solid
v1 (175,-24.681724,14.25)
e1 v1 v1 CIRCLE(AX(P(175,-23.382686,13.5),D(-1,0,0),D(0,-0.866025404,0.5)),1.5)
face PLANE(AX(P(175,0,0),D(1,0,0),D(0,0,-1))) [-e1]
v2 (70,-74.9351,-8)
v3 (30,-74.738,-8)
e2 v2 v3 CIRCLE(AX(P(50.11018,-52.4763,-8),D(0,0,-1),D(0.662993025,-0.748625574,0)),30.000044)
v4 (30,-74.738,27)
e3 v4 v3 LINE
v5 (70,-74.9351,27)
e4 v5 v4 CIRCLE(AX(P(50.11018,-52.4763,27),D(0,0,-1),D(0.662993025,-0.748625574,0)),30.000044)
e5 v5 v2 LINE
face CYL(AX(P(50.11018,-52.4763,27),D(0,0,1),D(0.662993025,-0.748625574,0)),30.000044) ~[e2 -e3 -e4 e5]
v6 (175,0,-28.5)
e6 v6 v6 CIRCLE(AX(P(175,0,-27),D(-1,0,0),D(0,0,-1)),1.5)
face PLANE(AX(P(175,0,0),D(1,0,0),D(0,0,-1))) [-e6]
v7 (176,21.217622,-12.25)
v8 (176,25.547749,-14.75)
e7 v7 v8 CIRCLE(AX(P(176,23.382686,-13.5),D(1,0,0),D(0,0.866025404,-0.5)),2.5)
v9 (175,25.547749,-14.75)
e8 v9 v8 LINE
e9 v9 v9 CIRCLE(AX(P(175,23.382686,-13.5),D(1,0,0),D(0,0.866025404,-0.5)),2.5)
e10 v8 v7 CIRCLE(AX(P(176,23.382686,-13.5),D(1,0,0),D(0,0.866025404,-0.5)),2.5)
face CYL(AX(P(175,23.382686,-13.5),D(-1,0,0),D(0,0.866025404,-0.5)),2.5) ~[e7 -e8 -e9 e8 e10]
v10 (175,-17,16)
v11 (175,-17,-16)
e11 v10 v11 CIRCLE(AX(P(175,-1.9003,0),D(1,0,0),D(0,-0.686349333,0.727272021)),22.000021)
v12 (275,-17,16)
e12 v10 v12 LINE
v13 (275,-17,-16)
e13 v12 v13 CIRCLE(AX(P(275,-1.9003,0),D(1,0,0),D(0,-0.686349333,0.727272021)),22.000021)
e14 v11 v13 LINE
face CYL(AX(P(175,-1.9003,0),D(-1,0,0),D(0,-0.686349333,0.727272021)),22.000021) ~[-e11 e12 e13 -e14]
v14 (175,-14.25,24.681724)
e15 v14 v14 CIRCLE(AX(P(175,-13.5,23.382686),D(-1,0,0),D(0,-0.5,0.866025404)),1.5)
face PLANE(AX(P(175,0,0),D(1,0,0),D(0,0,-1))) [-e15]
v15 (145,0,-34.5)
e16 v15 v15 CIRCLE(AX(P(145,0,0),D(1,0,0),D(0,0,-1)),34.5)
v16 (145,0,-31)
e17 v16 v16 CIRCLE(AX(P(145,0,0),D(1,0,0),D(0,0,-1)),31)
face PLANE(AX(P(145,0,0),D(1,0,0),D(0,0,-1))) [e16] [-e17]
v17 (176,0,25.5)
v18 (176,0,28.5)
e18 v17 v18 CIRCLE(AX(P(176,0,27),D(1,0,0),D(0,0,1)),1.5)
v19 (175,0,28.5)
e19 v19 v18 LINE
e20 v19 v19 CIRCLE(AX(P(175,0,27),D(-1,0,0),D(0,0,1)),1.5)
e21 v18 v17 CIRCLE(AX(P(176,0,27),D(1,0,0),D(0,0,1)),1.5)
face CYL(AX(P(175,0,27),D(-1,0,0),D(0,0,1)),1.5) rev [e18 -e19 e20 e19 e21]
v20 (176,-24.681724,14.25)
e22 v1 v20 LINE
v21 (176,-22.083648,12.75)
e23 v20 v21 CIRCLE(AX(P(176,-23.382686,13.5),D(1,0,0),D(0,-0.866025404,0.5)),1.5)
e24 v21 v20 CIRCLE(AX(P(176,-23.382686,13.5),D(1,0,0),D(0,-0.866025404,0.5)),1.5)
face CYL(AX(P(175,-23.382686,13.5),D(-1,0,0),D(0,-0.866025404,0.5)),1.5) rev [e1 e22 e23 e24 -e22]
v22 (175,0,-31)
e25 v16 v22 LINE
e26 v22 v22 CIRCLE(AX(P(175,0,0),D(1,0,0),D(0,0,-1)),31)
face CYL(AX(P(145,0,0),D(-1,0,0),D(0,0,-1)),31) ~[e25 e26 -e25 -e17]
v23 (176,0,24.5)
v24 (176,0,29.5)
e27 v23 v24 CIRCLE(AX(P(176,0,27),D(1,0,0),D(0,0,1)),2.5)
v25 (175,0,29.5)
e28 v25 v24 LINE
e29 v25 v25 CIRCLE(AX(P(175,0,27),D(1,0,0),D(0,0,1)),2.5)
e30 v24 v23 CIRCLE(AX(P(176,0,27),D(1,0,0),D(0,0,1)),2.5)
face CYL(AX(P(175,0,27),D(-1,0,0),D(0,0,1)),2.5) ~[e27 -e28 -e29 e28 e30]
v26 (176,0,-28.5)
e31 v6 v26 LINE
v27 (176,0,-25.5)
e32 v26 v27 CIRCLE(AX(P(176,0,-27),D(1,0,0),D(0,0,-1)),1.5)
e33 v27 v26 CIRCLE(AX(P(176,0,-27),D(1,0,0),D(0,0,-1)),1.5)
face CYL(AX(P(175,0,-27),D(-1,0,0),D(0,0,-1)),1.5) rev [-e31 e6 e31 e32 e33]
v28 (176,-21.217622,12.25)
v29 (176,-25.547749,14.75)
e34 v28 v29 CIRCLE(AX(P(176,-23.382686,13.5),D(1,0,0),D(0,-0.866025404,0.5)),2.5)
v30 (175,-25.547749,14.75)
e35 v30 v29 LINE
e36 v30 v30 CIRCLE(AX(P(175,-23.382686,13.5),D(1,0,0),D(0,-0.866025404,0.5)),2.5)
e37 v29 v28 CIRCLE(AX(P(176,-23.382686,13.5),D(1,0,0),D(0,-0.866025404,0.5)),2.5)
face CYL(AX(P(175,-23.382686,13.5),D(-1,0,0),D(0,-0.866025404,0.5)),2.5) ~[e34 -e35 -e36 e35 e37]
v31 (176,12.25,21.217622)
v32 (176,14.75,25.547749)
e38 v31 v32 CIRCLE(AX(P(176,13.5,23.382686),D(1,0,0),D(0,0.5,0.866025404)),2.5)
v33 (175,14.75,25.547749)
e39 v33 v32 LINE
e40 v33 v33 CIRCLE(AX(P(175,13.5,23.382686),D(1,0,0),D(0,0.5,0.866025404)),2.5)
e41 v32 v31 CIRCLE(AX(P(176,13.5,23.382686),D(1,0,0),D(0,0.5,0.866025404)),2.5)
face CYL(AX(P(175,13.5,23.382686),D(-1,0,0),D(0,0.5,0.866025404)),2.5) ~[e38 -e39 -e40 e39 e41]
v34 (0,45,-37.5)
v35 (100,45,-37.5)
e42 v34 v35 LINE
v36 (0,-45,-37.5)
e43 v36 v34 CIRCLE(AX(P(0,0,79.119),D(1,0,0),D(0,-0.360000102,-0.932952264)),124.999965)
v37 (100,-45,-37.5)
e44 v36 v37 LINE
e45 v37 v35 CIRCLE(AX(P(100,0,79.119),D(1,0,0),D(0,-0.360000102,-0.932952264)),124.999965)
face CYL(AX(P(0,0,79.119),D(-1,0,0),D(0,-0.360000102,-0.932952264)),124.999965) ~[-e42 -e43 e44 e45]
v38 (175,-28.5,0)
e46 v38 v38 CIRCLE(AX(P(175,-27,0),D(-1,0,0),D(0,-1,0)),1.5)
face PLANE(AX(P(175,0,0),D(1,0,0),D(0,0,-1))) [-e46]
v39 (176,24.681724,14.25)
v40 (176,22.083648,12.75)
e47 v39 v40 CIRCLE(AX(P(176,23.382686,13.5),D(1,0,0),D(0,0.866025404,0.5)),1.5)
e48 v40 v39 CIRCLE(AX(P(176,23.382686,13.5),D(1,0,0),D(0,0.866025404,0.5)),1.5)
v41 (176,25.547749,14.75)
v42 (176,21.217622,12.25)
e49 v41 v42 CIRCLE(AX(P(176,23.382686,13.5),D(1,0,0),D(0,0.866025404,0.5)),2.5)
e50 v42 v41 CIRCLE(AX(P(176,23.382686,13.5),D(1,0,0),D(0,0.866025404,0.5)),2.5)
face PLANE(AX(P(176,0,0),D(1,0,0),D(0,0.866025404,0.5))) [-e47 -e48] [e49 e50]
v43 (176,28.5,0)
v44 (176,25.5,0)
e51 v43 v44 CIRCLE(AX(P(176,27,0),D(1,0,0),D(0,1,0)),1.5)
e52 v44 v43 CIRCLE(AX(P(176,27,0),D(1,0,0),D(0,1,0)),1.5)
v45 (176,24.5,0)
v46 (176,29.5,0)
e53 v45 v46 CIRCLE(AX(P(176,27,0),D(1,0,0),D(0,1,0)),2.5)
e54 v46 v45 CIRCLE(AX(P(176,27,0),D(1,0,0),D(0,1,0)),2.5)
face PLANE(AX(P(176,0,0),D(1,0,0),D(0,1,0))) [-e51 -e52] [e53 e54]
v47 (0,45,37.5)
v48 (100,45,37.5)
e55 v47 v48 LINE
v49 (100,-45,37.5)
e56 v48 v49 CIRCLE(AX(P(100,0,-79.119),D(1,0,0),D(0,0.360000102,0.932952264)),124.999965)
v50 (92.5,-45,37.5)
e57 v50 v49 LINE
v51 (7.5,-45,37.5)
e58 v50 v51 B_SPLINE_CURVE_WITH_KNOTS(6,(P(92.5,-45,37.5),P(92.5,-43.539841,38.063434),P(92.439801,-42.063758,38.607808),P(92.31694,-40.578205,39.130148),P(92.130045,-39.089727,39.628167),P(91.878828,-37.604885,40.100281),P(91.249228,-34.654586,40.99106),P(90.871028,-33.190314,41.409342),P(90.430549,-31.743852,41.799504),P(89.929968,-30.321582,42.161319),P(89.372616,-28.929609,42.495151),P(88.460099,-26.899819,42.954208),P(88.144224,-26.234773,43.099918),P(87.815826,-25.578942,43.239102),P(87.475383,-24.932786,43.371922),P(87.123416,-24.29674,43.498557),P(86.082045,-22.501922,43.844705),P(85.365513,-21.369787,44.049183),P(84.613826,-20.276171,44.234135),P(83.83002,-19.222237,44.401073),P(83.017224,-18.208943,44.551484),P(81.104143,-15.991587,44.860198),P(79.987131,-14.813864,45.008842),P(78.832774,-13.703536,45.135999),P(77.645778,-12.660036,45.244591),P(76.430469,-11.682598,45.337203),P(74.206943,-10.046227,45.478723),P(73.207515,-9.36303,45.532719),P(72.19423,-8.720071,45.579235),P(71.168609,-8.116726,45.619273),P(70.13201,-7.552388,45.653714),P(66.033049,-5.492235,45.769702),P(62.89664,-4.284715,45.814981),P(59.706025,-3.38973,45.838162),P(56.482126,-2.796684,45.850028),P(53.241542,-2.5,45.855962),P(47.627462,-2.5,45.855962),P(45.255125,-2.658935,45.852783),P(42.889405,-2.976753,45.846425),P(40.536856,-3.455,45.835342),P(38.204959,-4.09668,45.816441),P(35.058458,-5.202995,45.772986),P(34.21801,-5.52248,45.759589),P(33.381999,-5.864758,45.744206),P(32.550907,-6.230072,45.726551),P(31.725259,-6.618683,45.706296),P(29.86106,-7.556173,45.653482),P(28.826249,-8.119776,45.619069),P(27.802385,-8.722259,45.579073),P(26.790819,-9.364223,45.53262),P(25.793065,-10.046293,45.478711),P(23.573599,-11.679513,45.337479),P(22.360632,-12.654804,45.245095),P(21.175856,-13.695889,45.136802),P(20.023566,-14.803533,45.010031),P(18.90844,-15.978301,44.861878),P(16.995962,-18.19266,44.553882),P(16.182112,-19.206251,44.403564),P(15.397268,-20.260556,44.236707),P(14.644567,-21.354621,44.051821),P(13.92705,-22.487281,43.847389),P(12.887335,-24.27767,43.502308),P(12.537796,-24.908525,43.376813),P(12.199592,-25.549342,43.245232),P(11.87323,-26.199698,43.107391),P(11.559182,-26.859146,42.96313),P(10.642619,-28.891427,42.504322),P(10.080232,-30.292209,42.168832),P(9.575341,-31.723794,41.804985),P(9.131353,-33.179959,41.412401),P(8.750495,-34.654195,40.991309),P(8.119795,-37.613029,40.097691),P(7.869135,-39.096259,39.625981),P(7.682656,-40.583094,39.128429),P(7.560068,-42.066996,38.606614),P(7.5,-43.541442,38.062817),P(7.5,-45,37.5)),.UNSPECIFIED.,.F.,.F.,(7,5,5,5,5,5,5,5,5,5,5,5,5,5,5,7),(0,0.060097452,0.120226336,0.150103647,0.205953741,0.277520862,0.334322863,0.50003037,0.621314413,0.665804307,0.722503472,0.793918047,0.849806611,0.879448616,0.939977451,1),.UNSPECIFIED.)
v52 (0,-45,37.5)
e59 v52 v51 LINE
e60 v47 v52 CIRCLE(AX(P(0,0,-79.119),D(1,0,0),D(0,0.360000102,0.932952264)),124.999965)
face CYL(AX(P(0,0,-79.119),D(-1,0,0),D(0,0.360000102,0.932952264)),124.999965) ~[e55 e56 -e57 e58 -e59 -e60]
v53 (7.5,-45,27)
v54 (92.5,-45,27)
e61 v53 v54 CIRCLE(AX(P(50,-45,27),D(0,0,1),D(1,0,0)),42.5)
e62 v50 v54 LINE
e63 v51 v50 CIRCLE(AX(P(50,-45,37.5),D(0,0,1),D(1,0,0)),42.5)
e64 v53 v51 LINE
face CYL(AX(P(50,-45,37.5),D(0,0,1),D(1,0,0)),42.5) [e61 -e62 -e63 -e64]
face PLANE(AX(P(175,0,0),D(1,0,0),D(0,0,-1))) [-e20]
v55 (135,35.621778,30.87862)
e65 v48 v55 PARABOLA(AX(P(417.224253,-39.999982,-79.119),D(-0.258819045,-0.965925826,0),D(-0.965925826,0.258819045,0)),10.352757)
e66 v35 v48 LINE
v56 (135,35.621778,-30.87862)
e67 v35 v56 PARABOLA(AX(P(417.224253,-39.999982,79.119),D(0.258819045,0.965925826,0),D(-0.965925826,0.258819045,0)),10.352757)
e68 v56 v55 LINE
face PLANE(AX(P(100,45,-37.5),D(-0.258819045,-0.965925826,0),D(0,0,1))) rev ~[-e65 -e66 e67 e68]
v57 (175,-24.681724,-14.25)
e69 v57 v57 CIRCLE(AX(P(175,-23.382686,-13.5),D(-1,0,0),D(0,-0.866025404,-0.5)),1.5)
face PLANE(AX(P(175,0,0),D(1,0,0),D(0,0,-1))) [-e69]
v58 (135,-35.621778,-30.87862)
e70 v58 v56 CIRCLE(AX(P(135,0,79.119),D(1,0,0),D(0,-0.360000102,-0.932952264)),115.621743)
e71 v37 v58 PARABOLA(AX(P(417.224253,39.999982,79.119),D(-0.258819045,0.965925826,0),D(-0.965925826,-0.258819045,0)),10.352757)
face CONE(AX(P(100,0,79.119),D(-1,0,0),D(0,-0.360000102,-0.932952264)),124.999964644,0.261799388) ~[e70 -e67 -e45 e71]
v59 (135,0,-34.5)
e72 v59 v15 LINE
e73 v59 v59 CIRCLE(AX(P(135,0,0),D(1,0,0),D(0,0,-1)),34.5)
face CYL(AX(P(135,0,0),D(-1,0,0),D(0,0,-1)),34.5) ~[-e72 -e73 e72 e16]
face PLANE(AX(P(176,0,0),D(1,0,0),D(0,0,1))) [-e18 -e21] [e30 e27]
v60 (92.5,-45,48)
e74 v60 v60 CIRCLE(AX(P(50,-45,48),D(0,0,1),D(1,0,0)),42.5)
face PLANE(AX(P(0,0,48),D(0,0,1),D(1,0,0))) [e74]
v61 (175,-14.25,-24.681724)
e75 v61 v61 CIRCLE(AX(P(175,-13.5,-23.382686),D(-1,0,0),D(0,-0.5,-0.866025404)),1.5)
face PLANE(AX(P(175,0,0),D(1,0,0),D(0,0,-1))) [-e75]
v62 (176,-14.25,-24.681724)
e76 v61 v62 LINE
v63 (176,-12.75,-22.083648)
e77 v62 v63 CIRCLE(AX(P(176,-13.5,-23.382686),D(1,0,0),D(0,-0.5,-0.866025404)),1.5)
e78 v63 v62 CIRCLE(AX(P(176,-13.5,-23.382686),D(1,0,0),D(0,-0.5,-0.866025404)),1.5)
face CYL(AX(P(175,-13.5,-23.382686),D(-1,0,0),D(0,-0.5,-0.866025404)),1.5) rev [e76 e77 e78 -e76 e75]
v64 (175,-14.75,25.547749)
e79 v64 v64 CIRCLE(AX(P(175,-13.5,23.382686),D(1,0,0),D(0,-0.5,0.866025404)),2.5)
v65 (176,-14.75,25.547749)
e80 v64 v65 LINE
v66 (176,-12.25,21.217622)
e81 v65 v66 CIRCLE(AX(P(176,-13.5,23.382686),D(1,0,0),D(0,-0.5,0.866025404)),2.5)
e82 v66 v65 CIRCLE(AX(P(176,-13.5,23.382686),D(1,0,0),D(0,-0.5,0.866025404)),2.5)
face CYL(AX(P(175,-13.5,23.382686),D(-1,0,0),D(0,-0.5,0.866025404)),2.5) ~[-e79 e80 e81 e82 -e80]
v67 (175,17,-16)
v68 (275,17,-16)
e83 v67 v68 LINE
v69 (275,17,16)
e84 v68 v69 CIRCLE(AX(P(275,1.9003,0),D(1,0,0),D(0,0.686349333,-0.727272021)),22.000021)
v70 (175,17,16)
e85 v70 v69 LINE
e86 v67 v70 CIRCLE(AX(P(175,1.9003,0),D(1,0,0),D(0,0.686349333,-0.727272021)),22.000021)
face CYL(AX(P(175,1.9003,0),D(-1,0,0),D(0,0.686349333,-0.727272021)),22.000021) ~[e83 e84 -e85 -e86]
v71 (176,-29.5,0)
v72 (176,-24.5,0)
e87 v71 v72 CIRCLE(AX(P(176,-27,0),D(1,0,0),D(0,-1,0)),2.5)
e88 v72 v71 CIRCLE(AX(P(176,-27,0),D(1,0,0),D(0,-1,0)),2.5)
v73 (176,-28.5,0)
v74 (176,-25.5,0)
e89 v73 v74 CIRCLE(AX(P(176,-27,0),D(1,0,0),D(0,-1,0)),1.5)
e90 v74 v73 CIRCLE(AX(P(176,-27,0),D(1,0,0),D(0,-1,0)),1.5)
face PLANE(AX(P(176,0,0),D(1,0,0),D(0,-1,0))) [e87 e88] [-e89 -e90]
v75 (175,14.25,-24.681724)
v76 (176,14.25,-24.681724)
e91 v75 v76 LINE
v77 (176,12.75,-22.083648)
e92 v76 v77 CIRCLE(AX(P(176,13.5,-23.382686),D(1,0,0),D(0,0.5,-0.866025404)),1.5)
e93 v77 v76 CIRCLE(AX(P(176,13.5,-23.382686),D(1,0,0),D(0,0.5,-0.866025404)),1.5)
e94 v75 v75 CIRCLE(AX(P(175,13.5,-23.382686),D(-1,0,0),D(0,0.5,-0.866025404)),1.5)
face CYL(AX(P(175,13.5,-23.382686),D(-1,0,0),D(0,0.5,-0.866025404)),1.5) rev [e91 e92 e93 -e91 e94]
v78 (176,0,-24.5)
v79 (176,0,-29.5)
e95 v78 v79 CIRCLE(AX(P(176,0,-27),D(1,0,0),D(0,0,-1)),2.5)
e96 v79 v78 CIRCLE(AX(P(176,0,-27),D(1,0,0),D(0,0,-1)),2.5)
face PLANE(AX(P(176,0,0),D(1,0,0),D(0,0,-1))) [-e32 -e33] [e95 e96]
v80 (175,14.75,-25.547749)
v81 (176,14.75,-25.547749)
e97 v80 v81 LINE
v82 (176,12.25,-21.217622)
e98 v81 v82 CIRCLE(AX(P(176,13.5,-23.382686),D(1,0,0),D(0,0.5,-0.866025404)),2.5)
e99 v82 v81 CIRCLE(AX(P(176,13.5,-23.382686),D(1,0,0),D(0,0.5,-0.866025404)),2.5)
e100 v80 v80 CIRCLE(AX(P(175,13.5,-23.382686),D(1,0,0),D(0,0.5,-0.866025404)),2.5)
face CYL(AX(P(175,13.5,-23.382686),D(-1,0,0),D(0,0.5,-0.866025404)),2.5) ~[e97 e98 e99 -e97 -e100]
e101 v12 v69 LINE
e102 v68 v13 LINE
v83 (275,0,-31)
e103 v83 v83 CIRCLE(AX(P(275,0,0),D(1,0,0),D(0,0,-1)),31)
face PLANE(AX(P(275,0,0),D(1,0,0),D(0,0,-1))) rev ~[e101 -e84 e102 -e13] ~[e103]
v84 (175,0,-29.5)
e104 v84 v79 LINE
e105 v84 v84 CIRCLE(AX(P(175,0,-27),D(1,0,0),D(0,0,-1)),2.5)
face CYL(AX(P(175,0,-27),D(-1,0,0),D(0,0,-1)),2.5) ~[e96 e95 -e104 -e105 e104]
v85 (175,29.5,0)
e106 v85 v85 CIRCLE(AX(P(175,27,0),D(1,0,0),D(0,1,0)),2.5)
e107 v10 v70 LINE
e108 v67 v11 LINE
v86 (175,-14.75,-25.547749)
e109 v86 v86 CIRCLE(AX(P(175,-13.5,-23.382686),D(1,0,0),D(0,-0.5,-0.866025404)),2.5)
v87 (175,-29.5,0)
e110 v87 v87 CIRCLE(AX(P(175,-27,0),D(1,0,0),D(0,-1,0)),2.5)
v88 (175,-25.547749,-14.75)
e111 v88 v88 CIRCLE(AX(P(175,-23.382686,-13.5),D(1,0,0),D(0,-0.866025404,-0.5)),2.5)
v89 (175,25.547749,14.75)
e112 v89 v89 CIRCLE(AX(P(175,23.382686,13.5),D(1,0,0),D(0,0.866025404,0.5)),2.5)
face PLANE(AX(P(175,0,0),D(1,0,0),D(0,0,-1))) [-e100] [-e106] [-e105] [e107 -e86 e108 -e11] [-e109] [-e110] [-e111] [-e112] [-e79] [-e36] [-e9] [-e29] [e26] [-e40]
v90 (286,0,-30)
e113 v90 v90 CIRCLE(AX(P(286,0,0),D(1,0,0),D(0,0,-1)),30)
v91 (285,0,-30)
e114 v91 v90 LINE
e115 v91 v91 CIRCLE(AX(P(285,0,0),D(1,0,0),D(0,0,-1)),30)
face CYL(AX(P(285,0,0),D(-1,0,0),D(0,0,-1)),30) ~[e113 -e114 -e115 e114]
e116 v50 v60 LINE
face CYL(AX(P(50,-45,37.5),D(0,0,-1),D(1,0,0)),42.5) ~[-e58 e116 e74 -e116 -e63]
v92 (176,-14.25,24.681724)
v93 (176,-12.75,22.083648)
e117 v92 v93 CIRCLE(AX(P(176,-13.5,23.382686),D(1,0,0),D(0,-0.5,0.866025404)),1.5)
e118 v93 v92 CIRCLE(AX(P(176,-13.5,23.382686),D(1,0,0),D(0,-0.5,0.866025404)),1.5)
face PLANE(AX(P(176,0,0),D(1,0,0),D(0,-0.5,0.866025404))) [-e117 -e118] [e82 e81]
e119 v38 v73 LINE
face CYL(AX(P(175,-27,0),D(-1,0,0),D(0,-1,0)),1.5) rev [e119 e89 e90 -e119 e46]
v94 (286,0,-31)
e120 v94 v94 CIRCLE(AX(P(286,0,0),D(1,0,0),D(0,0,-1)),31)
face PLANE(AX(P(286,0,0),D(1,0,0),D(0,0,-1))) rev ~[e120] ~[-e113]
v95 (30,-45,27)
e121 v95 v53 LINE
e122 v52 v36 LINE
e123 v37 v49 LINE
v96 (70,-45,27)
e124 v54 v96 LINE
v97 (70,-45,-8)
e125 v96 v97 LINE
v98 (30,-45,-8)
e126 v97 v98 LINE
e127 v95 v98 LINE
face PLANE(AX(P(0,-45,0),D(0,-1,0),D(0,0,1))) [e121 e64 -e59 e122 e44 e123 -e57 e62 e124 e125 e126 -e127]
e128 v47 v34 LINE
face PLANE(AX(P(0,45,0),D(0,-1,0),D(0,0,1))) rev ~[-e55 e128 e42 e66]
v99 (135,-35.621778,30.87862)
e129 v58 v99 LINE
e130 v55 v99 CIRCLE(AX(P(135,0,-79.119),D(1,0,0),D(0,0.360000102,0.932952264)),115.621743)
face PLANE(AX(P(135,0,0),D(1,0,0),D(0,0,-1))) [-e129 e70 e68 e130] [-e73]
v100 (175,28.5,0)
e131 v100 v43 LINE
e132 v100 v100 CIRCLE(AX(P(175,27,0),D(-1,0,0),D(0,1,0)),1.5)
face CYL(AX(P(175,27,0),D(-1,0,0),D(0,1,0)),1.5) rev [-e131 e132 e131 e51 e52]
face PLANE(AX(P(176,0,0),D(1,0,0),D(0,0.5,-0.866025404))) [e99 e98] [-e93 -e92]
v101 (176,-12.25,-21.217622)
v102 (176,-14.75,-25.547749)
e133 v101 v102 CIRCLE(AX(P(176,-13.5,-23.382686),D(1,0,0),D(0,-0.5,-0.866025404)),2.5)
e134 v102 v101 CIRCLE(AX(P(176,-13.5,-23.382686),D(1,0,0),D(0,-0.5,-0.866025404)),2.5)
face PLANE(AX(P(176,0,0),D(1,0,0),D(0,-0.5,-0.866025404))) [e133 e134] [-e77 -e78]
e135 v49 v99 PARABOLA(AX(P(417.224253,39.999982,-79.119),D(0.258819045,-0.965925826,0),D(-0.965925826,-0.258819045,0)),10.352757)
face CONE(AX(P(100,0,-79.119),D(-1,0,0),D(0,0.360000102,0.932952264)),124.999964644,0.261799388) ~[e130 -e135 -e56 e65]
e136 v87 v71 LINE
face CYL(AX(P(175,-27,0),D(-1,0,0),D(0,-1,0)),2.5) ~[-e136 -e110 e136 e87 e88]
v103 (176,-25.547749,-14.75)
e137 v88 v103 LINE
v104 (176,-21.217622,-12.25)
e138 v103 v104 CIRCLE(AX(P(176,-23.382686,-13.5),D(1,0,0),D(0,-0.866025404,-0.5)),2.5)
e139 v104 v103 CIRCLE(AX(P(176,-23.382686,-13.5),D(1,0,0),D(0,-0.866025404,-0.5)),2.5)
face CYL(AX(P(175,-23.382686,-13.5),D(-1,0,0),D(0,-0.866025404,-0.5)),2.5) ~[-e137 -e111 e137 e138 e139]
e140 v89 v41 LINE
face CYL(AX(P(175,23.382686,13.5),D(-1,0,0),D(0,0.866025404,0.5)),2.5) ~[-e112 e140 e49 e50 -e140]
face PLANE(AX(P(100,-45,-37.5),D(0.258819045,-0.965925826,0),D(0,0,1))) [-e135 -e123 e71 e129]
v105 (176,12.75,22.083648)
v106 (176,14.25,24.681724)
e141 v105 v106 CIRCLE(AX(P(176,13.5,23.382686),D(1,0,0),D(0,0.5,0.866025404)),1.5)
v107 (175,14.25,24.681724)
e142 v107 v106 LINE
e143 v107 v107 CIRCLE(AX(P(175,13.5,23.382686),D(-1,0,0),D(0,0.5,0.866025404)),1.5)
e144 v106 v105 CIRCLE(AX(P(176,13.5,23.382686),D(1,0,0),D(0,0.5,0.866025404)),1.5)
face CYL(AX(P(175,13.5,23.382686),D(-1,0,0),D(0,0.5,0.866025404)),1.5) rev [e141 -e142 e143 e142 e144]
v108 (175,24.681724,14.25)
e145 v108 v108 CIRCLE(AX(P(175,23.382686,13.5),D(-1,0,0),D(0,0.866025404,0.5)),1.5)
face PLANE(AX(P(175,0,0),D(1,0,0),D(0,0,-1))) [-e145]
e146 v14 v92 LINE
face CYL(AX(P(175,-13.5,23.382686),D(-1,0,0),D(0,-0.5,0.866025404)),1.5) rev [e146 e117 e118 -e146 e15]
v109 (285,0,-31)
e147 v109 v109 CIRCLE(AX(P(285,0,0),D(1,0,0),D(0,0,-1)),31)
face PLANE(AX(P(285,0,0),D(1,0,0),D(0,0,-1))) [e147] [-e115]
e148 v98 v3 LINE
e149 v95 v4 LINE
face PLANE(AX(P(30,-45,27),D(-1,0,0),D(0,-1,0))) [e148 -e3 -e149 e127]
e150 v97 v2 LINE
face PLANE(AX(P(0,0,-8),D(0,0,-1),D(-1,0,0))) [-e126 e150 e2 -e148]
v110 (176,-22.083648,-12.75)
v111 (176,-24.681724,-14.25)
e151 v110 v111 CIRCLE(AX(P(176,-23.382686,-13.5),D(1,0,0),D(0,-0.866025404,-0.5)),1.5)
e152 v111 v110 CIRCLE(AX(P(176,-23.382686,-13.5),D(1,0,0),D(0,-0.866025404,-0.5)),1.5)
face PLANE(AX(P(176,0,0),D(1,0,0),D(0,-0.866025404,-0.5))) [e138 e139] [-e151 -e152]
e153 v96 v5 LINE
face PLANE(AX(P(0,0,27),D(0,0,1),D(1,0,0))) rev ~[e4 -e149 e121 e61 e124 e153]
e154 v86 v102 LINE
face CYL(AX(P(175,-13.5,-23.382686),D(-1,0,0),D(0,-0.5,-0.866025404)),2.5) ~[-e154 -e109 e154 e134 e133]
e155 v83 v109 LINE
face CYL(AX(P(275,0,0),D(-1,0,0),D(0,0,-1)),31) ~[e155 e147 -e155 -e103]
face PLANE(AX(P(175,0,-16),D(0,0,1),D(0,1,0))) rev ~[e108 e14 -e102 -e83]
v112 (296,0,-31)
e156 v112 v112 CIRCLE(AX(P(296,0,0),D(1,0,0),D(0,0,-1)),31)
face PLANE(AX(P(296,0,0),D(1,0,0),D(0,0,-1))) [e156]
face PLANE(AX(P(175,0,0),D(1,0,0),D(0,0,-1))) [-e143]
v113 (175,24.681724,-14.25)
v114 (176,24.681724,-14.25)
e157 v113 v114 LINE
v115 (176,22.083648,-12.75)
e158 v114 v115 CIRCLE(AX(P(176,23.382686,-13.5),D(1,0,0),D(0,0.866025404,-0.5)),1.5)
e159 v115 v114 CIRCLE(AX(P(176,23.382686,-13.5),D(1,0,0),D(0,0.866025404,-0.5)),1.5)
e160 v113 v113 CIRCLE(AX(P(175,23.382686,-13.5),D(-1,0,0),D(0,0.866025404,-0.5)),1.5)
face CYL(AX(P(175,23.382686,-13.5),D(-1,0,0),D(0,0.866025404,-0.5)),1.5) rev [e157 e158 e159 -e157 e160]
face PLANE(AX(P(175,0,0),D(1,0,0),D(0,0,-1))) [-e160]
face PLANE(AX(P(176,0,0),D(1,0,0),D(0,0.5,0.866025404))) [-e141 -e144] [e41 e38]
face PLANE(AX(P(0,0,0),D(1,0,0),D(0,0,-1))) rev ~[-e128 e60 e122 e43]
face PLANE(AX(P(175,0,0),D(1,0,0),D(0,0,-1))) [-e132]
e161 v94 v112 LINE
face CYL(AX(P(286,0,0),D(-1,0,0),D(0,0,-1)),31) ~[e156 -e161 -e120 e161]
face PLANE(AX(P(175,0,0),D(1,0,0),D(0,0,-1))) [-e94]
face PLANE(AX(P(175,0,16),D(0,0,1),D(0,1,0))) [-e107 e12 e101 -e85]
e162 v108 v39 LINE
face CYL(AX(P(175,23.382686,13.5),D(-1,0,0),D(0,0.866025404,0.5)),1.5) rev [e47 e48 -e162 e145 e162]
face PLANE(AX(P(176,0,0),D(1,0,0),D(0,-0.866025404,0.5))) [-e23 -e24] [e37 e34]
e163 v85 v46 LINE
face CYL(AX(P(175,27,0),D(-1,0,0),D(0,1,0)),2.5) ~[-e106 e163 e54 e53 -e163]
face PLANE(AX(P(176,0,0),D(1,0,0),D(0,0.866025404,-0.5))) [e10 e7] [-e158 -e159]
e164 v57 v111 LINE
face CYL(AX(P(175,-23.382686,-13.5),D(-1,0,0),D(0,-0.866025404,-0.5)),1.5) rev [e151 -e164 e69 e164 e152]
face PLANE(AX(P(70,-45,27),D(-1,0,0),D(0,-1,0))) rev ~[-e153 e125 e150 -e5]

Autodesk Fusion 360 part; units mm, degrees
sketch "Sketch1" plane through (0, 0, 0) normal (1, 0, 0) x (0, 0, -1)
  line L0 (0, 0) -> (0, 45)
  line L1 (0, 0) -> (0, -45)
  line L2 (0, 45) -> (37.5, 45)
  line L3 (0, 45) -> (-37.5, 45)
  line L4 (0, -45) -> (37.5, -45)
  line L5 (0, -45) -> (-37.5, -45)
  arc A0 (-37.5, 45) -> (-37.5, -45) centre (79.119, 0) ccw
  arc A1 (37.5, -45) -> (37.5, 45) centre (-79.119, 0) ccw
  dimension "d1" = 45
  dimension "d2" = 45
  dimension "d3" = 37.5
  dimension "d4" = 37.5
  dimension "d5" = 37.5
  dimension "d6" = 37.5
  dimension "d8" = 125
extrude "Extrude1" add sketch "Sketch1" along normal blind 100
extrude "Extrude2" add 1 faces at (100, -15.2642, -14.2806) along direction (1, 0, 0) blind 35 draft -15
sketch "Sketch2" plane through (135, 0, 0) normal (1, 0, 0) x (0, 0, -1)
  line L0 (-30.8786, -35.6218) -> (30.8786, -35.6218)
  arc A0 (30.8786, -35.6218) -> (30.8786, 35.6218) centre (-79.119, 0) ccw
  line L1 (30.8786, 35.6218) -> (-30.8786, 35.6218)
  arc A1 (-30.8786, 35.6218) -> (-30.8786, -35.6218) centre (79.119, 0) ccw
  circle A2 centre (0, 0) radius 34.5
  dimension "d13" = 69
extrude "Extrude3" add sketch "Sketch2" along normal blind 10 contours A2
sketch "Sketch3" plane through (145, 0, 0) normal (1, 0, 0) x (0, 0, -1)
  circle A0 centre (0, 0) radius 34.5
  circle A1 centre (0, 0) radius 31
  dimension "d16" = 62
extrude "Extrude4" add sketch "Sketch3" along normal blind 30 contours A1
sketch "Sketch4" plane through (175, 0, 0) normal (1, 0, 0) x (0, 0, -1)
  circle A0 centre (0, 0) radius 31
  line L0 (0, 0) -> (27, 0)
  circle A1 centre (27, 0) radius 2.5
  circle A2 centre (27, 0) radius 1.5
  dimension "d19" = 27
  dimension "d20" = 5
  dimension "d21" = -1
extrude "Extrude5" add sketch "Sketch4" along normal blind 1 contours A1
pattern_circular "C-Pattern1" count 12 over 360 about axis through (175, 0, 0) along (1, 0, 0) of "Extrude5"
sketch "Sketch5" plane through (175, 0, 0) normal (1, 0, 0) x (0, 0, -1)
  circle A0 centre (27, 0) radius 2.5
  circle A1 centre (0, 0) radius 31
  circle A2 centre (23.3827, 13.5) radius 2.5
  circle A3 centre (13.5, 23.3827) radius 2.5
  circle A4 centre (0, 27) radius 2.5
  circle A5 centre (-13.5, 23.3827) radius 2.5
  circle A6 centre (-23.3827, 13.5) radius 2.5
  circle A7 centre (-27, 0) radius 2.5
  circle A8 centre (-23.3827, -13.5) radius 2.5
  circle A9 centre (-13.5, -23.3827) radius 2.5
  circle A10 centre (0, -27) radius 2.5
  circle A11 centre (13.5, -23.3827) radius 2.5
  circle A12 centre (23.3827, -13.5) radius 2.5
  line L0 (0, 0) -> (16, 0)
  line L1 (16, 0) -> (16, 17)
  line L2 (16, 0) -> (16, -17)
  line L3 (0, 0) -> (0, -8.0593)
  line L4 (-16, 0) -> (-16, 17)
  line L5 (-16, 0) -> (-16, -17)
  arc A13 (16, 17) -> (-16, 17) centre (0, 1.9003) ccw
  arc A14 (-16, -17) -> (16, -17) centre (0, -1.9003) ccw
  dimension "d26" = 16
  dimension "d27" = 17
  dimension "d28" = 17
  dimension "d29" = 22
extrude "Extrude6" add sketch "Sketch5" along normal blind 100 contours L1 L2 L4 L5 A13 A14
sketch "Sketch6" plane through (275, 0, 0) normal (1, 0, 0) x (0, 0, -1)
  line L0 (-16, 17) -> (-16, -17)
  arc A0 (-16, -17) -> (16, -17) centre (0, -1.9003) ccw
  line L1 (16, -17) -> (16, 17)
  arc A1 (16, 17) -> (-16, 17) centre (0, 1.9003) ccw
  circle A2 centre (0, 0) radius 31
  circle A3 centre (0, 0) radius 30
  dimension "d32" = 62
  dimension "d35" = -1
extrude "Extrude7" add sketch "Sketch6" along normal blind 10 contours L0 A0 L1 A1 | A2 | A3
sketch "Sketch7" plane through (285, 0, 0) normal (1, 0, 0) x (0, 0, -1)
  circle A0 centre (0, 0) radius 31
  circle A1 centre (0, 0) radius 30
  dimension "d36" = -1
extrude "Extrude8" add sketch "Sketch7" along normal blind 1 contours A1
sketch "Sketch8" plane through (286, 0, 0) normal (1, 0, 0) x (0, 0, -1)
  circle A0 centre (0, 0) radius 30
  circle A1 centre (0, 0) radius 31
  dimension "d39" = 62
extrude "Extrude9" add sketch "Sketch8" along normal blind 10 contours A0 | A1
ref_plane "WorkPlane1" through (0, 45, 37.5) normal (0, 0, 1) x (1, 0, 0)
sketch "Sketch9" plane through (0, 0, 37.5) normal (0, 0, 1) x (1, 0, 0)
  circle A0 centre (50, -45) radius 42.5
  dimension "d43" = 85
extrude "Extrude10" add sketch "Sketch9" along normal mid plane 21
sketch "Sketch10" plane through (0, 0, 27) normal (0, 0, -1) x (-1, 0, 0)
  line L0 (-7.5, -45) -> (-92.5, -45)
  arc A0 (-92.5, -45) -> (-7.5, -45) centre (-50, -45) ccw
  line L1 (-50, -45) -> (-50, -75)
  line L2 (-70, -45) -> (-70, -74.9351)
  line L3 (-30, -45) -> (-30, -74.738)
  arc A1 (-70, -74.9351) -> (-30, -74.738) centre (-50.1102, -52.4763) ccw
  dimension "d46" = 30
  dimension "d47" = 20
  dimension "d48" = -20
  dimension "d49" = 30
extrude "Extrude11" add sketch "Sketch10" along normal blind 35 contours L0 L2 L3 A1
equation "d44 = ( 21 / 2 ) * 1 mm"
